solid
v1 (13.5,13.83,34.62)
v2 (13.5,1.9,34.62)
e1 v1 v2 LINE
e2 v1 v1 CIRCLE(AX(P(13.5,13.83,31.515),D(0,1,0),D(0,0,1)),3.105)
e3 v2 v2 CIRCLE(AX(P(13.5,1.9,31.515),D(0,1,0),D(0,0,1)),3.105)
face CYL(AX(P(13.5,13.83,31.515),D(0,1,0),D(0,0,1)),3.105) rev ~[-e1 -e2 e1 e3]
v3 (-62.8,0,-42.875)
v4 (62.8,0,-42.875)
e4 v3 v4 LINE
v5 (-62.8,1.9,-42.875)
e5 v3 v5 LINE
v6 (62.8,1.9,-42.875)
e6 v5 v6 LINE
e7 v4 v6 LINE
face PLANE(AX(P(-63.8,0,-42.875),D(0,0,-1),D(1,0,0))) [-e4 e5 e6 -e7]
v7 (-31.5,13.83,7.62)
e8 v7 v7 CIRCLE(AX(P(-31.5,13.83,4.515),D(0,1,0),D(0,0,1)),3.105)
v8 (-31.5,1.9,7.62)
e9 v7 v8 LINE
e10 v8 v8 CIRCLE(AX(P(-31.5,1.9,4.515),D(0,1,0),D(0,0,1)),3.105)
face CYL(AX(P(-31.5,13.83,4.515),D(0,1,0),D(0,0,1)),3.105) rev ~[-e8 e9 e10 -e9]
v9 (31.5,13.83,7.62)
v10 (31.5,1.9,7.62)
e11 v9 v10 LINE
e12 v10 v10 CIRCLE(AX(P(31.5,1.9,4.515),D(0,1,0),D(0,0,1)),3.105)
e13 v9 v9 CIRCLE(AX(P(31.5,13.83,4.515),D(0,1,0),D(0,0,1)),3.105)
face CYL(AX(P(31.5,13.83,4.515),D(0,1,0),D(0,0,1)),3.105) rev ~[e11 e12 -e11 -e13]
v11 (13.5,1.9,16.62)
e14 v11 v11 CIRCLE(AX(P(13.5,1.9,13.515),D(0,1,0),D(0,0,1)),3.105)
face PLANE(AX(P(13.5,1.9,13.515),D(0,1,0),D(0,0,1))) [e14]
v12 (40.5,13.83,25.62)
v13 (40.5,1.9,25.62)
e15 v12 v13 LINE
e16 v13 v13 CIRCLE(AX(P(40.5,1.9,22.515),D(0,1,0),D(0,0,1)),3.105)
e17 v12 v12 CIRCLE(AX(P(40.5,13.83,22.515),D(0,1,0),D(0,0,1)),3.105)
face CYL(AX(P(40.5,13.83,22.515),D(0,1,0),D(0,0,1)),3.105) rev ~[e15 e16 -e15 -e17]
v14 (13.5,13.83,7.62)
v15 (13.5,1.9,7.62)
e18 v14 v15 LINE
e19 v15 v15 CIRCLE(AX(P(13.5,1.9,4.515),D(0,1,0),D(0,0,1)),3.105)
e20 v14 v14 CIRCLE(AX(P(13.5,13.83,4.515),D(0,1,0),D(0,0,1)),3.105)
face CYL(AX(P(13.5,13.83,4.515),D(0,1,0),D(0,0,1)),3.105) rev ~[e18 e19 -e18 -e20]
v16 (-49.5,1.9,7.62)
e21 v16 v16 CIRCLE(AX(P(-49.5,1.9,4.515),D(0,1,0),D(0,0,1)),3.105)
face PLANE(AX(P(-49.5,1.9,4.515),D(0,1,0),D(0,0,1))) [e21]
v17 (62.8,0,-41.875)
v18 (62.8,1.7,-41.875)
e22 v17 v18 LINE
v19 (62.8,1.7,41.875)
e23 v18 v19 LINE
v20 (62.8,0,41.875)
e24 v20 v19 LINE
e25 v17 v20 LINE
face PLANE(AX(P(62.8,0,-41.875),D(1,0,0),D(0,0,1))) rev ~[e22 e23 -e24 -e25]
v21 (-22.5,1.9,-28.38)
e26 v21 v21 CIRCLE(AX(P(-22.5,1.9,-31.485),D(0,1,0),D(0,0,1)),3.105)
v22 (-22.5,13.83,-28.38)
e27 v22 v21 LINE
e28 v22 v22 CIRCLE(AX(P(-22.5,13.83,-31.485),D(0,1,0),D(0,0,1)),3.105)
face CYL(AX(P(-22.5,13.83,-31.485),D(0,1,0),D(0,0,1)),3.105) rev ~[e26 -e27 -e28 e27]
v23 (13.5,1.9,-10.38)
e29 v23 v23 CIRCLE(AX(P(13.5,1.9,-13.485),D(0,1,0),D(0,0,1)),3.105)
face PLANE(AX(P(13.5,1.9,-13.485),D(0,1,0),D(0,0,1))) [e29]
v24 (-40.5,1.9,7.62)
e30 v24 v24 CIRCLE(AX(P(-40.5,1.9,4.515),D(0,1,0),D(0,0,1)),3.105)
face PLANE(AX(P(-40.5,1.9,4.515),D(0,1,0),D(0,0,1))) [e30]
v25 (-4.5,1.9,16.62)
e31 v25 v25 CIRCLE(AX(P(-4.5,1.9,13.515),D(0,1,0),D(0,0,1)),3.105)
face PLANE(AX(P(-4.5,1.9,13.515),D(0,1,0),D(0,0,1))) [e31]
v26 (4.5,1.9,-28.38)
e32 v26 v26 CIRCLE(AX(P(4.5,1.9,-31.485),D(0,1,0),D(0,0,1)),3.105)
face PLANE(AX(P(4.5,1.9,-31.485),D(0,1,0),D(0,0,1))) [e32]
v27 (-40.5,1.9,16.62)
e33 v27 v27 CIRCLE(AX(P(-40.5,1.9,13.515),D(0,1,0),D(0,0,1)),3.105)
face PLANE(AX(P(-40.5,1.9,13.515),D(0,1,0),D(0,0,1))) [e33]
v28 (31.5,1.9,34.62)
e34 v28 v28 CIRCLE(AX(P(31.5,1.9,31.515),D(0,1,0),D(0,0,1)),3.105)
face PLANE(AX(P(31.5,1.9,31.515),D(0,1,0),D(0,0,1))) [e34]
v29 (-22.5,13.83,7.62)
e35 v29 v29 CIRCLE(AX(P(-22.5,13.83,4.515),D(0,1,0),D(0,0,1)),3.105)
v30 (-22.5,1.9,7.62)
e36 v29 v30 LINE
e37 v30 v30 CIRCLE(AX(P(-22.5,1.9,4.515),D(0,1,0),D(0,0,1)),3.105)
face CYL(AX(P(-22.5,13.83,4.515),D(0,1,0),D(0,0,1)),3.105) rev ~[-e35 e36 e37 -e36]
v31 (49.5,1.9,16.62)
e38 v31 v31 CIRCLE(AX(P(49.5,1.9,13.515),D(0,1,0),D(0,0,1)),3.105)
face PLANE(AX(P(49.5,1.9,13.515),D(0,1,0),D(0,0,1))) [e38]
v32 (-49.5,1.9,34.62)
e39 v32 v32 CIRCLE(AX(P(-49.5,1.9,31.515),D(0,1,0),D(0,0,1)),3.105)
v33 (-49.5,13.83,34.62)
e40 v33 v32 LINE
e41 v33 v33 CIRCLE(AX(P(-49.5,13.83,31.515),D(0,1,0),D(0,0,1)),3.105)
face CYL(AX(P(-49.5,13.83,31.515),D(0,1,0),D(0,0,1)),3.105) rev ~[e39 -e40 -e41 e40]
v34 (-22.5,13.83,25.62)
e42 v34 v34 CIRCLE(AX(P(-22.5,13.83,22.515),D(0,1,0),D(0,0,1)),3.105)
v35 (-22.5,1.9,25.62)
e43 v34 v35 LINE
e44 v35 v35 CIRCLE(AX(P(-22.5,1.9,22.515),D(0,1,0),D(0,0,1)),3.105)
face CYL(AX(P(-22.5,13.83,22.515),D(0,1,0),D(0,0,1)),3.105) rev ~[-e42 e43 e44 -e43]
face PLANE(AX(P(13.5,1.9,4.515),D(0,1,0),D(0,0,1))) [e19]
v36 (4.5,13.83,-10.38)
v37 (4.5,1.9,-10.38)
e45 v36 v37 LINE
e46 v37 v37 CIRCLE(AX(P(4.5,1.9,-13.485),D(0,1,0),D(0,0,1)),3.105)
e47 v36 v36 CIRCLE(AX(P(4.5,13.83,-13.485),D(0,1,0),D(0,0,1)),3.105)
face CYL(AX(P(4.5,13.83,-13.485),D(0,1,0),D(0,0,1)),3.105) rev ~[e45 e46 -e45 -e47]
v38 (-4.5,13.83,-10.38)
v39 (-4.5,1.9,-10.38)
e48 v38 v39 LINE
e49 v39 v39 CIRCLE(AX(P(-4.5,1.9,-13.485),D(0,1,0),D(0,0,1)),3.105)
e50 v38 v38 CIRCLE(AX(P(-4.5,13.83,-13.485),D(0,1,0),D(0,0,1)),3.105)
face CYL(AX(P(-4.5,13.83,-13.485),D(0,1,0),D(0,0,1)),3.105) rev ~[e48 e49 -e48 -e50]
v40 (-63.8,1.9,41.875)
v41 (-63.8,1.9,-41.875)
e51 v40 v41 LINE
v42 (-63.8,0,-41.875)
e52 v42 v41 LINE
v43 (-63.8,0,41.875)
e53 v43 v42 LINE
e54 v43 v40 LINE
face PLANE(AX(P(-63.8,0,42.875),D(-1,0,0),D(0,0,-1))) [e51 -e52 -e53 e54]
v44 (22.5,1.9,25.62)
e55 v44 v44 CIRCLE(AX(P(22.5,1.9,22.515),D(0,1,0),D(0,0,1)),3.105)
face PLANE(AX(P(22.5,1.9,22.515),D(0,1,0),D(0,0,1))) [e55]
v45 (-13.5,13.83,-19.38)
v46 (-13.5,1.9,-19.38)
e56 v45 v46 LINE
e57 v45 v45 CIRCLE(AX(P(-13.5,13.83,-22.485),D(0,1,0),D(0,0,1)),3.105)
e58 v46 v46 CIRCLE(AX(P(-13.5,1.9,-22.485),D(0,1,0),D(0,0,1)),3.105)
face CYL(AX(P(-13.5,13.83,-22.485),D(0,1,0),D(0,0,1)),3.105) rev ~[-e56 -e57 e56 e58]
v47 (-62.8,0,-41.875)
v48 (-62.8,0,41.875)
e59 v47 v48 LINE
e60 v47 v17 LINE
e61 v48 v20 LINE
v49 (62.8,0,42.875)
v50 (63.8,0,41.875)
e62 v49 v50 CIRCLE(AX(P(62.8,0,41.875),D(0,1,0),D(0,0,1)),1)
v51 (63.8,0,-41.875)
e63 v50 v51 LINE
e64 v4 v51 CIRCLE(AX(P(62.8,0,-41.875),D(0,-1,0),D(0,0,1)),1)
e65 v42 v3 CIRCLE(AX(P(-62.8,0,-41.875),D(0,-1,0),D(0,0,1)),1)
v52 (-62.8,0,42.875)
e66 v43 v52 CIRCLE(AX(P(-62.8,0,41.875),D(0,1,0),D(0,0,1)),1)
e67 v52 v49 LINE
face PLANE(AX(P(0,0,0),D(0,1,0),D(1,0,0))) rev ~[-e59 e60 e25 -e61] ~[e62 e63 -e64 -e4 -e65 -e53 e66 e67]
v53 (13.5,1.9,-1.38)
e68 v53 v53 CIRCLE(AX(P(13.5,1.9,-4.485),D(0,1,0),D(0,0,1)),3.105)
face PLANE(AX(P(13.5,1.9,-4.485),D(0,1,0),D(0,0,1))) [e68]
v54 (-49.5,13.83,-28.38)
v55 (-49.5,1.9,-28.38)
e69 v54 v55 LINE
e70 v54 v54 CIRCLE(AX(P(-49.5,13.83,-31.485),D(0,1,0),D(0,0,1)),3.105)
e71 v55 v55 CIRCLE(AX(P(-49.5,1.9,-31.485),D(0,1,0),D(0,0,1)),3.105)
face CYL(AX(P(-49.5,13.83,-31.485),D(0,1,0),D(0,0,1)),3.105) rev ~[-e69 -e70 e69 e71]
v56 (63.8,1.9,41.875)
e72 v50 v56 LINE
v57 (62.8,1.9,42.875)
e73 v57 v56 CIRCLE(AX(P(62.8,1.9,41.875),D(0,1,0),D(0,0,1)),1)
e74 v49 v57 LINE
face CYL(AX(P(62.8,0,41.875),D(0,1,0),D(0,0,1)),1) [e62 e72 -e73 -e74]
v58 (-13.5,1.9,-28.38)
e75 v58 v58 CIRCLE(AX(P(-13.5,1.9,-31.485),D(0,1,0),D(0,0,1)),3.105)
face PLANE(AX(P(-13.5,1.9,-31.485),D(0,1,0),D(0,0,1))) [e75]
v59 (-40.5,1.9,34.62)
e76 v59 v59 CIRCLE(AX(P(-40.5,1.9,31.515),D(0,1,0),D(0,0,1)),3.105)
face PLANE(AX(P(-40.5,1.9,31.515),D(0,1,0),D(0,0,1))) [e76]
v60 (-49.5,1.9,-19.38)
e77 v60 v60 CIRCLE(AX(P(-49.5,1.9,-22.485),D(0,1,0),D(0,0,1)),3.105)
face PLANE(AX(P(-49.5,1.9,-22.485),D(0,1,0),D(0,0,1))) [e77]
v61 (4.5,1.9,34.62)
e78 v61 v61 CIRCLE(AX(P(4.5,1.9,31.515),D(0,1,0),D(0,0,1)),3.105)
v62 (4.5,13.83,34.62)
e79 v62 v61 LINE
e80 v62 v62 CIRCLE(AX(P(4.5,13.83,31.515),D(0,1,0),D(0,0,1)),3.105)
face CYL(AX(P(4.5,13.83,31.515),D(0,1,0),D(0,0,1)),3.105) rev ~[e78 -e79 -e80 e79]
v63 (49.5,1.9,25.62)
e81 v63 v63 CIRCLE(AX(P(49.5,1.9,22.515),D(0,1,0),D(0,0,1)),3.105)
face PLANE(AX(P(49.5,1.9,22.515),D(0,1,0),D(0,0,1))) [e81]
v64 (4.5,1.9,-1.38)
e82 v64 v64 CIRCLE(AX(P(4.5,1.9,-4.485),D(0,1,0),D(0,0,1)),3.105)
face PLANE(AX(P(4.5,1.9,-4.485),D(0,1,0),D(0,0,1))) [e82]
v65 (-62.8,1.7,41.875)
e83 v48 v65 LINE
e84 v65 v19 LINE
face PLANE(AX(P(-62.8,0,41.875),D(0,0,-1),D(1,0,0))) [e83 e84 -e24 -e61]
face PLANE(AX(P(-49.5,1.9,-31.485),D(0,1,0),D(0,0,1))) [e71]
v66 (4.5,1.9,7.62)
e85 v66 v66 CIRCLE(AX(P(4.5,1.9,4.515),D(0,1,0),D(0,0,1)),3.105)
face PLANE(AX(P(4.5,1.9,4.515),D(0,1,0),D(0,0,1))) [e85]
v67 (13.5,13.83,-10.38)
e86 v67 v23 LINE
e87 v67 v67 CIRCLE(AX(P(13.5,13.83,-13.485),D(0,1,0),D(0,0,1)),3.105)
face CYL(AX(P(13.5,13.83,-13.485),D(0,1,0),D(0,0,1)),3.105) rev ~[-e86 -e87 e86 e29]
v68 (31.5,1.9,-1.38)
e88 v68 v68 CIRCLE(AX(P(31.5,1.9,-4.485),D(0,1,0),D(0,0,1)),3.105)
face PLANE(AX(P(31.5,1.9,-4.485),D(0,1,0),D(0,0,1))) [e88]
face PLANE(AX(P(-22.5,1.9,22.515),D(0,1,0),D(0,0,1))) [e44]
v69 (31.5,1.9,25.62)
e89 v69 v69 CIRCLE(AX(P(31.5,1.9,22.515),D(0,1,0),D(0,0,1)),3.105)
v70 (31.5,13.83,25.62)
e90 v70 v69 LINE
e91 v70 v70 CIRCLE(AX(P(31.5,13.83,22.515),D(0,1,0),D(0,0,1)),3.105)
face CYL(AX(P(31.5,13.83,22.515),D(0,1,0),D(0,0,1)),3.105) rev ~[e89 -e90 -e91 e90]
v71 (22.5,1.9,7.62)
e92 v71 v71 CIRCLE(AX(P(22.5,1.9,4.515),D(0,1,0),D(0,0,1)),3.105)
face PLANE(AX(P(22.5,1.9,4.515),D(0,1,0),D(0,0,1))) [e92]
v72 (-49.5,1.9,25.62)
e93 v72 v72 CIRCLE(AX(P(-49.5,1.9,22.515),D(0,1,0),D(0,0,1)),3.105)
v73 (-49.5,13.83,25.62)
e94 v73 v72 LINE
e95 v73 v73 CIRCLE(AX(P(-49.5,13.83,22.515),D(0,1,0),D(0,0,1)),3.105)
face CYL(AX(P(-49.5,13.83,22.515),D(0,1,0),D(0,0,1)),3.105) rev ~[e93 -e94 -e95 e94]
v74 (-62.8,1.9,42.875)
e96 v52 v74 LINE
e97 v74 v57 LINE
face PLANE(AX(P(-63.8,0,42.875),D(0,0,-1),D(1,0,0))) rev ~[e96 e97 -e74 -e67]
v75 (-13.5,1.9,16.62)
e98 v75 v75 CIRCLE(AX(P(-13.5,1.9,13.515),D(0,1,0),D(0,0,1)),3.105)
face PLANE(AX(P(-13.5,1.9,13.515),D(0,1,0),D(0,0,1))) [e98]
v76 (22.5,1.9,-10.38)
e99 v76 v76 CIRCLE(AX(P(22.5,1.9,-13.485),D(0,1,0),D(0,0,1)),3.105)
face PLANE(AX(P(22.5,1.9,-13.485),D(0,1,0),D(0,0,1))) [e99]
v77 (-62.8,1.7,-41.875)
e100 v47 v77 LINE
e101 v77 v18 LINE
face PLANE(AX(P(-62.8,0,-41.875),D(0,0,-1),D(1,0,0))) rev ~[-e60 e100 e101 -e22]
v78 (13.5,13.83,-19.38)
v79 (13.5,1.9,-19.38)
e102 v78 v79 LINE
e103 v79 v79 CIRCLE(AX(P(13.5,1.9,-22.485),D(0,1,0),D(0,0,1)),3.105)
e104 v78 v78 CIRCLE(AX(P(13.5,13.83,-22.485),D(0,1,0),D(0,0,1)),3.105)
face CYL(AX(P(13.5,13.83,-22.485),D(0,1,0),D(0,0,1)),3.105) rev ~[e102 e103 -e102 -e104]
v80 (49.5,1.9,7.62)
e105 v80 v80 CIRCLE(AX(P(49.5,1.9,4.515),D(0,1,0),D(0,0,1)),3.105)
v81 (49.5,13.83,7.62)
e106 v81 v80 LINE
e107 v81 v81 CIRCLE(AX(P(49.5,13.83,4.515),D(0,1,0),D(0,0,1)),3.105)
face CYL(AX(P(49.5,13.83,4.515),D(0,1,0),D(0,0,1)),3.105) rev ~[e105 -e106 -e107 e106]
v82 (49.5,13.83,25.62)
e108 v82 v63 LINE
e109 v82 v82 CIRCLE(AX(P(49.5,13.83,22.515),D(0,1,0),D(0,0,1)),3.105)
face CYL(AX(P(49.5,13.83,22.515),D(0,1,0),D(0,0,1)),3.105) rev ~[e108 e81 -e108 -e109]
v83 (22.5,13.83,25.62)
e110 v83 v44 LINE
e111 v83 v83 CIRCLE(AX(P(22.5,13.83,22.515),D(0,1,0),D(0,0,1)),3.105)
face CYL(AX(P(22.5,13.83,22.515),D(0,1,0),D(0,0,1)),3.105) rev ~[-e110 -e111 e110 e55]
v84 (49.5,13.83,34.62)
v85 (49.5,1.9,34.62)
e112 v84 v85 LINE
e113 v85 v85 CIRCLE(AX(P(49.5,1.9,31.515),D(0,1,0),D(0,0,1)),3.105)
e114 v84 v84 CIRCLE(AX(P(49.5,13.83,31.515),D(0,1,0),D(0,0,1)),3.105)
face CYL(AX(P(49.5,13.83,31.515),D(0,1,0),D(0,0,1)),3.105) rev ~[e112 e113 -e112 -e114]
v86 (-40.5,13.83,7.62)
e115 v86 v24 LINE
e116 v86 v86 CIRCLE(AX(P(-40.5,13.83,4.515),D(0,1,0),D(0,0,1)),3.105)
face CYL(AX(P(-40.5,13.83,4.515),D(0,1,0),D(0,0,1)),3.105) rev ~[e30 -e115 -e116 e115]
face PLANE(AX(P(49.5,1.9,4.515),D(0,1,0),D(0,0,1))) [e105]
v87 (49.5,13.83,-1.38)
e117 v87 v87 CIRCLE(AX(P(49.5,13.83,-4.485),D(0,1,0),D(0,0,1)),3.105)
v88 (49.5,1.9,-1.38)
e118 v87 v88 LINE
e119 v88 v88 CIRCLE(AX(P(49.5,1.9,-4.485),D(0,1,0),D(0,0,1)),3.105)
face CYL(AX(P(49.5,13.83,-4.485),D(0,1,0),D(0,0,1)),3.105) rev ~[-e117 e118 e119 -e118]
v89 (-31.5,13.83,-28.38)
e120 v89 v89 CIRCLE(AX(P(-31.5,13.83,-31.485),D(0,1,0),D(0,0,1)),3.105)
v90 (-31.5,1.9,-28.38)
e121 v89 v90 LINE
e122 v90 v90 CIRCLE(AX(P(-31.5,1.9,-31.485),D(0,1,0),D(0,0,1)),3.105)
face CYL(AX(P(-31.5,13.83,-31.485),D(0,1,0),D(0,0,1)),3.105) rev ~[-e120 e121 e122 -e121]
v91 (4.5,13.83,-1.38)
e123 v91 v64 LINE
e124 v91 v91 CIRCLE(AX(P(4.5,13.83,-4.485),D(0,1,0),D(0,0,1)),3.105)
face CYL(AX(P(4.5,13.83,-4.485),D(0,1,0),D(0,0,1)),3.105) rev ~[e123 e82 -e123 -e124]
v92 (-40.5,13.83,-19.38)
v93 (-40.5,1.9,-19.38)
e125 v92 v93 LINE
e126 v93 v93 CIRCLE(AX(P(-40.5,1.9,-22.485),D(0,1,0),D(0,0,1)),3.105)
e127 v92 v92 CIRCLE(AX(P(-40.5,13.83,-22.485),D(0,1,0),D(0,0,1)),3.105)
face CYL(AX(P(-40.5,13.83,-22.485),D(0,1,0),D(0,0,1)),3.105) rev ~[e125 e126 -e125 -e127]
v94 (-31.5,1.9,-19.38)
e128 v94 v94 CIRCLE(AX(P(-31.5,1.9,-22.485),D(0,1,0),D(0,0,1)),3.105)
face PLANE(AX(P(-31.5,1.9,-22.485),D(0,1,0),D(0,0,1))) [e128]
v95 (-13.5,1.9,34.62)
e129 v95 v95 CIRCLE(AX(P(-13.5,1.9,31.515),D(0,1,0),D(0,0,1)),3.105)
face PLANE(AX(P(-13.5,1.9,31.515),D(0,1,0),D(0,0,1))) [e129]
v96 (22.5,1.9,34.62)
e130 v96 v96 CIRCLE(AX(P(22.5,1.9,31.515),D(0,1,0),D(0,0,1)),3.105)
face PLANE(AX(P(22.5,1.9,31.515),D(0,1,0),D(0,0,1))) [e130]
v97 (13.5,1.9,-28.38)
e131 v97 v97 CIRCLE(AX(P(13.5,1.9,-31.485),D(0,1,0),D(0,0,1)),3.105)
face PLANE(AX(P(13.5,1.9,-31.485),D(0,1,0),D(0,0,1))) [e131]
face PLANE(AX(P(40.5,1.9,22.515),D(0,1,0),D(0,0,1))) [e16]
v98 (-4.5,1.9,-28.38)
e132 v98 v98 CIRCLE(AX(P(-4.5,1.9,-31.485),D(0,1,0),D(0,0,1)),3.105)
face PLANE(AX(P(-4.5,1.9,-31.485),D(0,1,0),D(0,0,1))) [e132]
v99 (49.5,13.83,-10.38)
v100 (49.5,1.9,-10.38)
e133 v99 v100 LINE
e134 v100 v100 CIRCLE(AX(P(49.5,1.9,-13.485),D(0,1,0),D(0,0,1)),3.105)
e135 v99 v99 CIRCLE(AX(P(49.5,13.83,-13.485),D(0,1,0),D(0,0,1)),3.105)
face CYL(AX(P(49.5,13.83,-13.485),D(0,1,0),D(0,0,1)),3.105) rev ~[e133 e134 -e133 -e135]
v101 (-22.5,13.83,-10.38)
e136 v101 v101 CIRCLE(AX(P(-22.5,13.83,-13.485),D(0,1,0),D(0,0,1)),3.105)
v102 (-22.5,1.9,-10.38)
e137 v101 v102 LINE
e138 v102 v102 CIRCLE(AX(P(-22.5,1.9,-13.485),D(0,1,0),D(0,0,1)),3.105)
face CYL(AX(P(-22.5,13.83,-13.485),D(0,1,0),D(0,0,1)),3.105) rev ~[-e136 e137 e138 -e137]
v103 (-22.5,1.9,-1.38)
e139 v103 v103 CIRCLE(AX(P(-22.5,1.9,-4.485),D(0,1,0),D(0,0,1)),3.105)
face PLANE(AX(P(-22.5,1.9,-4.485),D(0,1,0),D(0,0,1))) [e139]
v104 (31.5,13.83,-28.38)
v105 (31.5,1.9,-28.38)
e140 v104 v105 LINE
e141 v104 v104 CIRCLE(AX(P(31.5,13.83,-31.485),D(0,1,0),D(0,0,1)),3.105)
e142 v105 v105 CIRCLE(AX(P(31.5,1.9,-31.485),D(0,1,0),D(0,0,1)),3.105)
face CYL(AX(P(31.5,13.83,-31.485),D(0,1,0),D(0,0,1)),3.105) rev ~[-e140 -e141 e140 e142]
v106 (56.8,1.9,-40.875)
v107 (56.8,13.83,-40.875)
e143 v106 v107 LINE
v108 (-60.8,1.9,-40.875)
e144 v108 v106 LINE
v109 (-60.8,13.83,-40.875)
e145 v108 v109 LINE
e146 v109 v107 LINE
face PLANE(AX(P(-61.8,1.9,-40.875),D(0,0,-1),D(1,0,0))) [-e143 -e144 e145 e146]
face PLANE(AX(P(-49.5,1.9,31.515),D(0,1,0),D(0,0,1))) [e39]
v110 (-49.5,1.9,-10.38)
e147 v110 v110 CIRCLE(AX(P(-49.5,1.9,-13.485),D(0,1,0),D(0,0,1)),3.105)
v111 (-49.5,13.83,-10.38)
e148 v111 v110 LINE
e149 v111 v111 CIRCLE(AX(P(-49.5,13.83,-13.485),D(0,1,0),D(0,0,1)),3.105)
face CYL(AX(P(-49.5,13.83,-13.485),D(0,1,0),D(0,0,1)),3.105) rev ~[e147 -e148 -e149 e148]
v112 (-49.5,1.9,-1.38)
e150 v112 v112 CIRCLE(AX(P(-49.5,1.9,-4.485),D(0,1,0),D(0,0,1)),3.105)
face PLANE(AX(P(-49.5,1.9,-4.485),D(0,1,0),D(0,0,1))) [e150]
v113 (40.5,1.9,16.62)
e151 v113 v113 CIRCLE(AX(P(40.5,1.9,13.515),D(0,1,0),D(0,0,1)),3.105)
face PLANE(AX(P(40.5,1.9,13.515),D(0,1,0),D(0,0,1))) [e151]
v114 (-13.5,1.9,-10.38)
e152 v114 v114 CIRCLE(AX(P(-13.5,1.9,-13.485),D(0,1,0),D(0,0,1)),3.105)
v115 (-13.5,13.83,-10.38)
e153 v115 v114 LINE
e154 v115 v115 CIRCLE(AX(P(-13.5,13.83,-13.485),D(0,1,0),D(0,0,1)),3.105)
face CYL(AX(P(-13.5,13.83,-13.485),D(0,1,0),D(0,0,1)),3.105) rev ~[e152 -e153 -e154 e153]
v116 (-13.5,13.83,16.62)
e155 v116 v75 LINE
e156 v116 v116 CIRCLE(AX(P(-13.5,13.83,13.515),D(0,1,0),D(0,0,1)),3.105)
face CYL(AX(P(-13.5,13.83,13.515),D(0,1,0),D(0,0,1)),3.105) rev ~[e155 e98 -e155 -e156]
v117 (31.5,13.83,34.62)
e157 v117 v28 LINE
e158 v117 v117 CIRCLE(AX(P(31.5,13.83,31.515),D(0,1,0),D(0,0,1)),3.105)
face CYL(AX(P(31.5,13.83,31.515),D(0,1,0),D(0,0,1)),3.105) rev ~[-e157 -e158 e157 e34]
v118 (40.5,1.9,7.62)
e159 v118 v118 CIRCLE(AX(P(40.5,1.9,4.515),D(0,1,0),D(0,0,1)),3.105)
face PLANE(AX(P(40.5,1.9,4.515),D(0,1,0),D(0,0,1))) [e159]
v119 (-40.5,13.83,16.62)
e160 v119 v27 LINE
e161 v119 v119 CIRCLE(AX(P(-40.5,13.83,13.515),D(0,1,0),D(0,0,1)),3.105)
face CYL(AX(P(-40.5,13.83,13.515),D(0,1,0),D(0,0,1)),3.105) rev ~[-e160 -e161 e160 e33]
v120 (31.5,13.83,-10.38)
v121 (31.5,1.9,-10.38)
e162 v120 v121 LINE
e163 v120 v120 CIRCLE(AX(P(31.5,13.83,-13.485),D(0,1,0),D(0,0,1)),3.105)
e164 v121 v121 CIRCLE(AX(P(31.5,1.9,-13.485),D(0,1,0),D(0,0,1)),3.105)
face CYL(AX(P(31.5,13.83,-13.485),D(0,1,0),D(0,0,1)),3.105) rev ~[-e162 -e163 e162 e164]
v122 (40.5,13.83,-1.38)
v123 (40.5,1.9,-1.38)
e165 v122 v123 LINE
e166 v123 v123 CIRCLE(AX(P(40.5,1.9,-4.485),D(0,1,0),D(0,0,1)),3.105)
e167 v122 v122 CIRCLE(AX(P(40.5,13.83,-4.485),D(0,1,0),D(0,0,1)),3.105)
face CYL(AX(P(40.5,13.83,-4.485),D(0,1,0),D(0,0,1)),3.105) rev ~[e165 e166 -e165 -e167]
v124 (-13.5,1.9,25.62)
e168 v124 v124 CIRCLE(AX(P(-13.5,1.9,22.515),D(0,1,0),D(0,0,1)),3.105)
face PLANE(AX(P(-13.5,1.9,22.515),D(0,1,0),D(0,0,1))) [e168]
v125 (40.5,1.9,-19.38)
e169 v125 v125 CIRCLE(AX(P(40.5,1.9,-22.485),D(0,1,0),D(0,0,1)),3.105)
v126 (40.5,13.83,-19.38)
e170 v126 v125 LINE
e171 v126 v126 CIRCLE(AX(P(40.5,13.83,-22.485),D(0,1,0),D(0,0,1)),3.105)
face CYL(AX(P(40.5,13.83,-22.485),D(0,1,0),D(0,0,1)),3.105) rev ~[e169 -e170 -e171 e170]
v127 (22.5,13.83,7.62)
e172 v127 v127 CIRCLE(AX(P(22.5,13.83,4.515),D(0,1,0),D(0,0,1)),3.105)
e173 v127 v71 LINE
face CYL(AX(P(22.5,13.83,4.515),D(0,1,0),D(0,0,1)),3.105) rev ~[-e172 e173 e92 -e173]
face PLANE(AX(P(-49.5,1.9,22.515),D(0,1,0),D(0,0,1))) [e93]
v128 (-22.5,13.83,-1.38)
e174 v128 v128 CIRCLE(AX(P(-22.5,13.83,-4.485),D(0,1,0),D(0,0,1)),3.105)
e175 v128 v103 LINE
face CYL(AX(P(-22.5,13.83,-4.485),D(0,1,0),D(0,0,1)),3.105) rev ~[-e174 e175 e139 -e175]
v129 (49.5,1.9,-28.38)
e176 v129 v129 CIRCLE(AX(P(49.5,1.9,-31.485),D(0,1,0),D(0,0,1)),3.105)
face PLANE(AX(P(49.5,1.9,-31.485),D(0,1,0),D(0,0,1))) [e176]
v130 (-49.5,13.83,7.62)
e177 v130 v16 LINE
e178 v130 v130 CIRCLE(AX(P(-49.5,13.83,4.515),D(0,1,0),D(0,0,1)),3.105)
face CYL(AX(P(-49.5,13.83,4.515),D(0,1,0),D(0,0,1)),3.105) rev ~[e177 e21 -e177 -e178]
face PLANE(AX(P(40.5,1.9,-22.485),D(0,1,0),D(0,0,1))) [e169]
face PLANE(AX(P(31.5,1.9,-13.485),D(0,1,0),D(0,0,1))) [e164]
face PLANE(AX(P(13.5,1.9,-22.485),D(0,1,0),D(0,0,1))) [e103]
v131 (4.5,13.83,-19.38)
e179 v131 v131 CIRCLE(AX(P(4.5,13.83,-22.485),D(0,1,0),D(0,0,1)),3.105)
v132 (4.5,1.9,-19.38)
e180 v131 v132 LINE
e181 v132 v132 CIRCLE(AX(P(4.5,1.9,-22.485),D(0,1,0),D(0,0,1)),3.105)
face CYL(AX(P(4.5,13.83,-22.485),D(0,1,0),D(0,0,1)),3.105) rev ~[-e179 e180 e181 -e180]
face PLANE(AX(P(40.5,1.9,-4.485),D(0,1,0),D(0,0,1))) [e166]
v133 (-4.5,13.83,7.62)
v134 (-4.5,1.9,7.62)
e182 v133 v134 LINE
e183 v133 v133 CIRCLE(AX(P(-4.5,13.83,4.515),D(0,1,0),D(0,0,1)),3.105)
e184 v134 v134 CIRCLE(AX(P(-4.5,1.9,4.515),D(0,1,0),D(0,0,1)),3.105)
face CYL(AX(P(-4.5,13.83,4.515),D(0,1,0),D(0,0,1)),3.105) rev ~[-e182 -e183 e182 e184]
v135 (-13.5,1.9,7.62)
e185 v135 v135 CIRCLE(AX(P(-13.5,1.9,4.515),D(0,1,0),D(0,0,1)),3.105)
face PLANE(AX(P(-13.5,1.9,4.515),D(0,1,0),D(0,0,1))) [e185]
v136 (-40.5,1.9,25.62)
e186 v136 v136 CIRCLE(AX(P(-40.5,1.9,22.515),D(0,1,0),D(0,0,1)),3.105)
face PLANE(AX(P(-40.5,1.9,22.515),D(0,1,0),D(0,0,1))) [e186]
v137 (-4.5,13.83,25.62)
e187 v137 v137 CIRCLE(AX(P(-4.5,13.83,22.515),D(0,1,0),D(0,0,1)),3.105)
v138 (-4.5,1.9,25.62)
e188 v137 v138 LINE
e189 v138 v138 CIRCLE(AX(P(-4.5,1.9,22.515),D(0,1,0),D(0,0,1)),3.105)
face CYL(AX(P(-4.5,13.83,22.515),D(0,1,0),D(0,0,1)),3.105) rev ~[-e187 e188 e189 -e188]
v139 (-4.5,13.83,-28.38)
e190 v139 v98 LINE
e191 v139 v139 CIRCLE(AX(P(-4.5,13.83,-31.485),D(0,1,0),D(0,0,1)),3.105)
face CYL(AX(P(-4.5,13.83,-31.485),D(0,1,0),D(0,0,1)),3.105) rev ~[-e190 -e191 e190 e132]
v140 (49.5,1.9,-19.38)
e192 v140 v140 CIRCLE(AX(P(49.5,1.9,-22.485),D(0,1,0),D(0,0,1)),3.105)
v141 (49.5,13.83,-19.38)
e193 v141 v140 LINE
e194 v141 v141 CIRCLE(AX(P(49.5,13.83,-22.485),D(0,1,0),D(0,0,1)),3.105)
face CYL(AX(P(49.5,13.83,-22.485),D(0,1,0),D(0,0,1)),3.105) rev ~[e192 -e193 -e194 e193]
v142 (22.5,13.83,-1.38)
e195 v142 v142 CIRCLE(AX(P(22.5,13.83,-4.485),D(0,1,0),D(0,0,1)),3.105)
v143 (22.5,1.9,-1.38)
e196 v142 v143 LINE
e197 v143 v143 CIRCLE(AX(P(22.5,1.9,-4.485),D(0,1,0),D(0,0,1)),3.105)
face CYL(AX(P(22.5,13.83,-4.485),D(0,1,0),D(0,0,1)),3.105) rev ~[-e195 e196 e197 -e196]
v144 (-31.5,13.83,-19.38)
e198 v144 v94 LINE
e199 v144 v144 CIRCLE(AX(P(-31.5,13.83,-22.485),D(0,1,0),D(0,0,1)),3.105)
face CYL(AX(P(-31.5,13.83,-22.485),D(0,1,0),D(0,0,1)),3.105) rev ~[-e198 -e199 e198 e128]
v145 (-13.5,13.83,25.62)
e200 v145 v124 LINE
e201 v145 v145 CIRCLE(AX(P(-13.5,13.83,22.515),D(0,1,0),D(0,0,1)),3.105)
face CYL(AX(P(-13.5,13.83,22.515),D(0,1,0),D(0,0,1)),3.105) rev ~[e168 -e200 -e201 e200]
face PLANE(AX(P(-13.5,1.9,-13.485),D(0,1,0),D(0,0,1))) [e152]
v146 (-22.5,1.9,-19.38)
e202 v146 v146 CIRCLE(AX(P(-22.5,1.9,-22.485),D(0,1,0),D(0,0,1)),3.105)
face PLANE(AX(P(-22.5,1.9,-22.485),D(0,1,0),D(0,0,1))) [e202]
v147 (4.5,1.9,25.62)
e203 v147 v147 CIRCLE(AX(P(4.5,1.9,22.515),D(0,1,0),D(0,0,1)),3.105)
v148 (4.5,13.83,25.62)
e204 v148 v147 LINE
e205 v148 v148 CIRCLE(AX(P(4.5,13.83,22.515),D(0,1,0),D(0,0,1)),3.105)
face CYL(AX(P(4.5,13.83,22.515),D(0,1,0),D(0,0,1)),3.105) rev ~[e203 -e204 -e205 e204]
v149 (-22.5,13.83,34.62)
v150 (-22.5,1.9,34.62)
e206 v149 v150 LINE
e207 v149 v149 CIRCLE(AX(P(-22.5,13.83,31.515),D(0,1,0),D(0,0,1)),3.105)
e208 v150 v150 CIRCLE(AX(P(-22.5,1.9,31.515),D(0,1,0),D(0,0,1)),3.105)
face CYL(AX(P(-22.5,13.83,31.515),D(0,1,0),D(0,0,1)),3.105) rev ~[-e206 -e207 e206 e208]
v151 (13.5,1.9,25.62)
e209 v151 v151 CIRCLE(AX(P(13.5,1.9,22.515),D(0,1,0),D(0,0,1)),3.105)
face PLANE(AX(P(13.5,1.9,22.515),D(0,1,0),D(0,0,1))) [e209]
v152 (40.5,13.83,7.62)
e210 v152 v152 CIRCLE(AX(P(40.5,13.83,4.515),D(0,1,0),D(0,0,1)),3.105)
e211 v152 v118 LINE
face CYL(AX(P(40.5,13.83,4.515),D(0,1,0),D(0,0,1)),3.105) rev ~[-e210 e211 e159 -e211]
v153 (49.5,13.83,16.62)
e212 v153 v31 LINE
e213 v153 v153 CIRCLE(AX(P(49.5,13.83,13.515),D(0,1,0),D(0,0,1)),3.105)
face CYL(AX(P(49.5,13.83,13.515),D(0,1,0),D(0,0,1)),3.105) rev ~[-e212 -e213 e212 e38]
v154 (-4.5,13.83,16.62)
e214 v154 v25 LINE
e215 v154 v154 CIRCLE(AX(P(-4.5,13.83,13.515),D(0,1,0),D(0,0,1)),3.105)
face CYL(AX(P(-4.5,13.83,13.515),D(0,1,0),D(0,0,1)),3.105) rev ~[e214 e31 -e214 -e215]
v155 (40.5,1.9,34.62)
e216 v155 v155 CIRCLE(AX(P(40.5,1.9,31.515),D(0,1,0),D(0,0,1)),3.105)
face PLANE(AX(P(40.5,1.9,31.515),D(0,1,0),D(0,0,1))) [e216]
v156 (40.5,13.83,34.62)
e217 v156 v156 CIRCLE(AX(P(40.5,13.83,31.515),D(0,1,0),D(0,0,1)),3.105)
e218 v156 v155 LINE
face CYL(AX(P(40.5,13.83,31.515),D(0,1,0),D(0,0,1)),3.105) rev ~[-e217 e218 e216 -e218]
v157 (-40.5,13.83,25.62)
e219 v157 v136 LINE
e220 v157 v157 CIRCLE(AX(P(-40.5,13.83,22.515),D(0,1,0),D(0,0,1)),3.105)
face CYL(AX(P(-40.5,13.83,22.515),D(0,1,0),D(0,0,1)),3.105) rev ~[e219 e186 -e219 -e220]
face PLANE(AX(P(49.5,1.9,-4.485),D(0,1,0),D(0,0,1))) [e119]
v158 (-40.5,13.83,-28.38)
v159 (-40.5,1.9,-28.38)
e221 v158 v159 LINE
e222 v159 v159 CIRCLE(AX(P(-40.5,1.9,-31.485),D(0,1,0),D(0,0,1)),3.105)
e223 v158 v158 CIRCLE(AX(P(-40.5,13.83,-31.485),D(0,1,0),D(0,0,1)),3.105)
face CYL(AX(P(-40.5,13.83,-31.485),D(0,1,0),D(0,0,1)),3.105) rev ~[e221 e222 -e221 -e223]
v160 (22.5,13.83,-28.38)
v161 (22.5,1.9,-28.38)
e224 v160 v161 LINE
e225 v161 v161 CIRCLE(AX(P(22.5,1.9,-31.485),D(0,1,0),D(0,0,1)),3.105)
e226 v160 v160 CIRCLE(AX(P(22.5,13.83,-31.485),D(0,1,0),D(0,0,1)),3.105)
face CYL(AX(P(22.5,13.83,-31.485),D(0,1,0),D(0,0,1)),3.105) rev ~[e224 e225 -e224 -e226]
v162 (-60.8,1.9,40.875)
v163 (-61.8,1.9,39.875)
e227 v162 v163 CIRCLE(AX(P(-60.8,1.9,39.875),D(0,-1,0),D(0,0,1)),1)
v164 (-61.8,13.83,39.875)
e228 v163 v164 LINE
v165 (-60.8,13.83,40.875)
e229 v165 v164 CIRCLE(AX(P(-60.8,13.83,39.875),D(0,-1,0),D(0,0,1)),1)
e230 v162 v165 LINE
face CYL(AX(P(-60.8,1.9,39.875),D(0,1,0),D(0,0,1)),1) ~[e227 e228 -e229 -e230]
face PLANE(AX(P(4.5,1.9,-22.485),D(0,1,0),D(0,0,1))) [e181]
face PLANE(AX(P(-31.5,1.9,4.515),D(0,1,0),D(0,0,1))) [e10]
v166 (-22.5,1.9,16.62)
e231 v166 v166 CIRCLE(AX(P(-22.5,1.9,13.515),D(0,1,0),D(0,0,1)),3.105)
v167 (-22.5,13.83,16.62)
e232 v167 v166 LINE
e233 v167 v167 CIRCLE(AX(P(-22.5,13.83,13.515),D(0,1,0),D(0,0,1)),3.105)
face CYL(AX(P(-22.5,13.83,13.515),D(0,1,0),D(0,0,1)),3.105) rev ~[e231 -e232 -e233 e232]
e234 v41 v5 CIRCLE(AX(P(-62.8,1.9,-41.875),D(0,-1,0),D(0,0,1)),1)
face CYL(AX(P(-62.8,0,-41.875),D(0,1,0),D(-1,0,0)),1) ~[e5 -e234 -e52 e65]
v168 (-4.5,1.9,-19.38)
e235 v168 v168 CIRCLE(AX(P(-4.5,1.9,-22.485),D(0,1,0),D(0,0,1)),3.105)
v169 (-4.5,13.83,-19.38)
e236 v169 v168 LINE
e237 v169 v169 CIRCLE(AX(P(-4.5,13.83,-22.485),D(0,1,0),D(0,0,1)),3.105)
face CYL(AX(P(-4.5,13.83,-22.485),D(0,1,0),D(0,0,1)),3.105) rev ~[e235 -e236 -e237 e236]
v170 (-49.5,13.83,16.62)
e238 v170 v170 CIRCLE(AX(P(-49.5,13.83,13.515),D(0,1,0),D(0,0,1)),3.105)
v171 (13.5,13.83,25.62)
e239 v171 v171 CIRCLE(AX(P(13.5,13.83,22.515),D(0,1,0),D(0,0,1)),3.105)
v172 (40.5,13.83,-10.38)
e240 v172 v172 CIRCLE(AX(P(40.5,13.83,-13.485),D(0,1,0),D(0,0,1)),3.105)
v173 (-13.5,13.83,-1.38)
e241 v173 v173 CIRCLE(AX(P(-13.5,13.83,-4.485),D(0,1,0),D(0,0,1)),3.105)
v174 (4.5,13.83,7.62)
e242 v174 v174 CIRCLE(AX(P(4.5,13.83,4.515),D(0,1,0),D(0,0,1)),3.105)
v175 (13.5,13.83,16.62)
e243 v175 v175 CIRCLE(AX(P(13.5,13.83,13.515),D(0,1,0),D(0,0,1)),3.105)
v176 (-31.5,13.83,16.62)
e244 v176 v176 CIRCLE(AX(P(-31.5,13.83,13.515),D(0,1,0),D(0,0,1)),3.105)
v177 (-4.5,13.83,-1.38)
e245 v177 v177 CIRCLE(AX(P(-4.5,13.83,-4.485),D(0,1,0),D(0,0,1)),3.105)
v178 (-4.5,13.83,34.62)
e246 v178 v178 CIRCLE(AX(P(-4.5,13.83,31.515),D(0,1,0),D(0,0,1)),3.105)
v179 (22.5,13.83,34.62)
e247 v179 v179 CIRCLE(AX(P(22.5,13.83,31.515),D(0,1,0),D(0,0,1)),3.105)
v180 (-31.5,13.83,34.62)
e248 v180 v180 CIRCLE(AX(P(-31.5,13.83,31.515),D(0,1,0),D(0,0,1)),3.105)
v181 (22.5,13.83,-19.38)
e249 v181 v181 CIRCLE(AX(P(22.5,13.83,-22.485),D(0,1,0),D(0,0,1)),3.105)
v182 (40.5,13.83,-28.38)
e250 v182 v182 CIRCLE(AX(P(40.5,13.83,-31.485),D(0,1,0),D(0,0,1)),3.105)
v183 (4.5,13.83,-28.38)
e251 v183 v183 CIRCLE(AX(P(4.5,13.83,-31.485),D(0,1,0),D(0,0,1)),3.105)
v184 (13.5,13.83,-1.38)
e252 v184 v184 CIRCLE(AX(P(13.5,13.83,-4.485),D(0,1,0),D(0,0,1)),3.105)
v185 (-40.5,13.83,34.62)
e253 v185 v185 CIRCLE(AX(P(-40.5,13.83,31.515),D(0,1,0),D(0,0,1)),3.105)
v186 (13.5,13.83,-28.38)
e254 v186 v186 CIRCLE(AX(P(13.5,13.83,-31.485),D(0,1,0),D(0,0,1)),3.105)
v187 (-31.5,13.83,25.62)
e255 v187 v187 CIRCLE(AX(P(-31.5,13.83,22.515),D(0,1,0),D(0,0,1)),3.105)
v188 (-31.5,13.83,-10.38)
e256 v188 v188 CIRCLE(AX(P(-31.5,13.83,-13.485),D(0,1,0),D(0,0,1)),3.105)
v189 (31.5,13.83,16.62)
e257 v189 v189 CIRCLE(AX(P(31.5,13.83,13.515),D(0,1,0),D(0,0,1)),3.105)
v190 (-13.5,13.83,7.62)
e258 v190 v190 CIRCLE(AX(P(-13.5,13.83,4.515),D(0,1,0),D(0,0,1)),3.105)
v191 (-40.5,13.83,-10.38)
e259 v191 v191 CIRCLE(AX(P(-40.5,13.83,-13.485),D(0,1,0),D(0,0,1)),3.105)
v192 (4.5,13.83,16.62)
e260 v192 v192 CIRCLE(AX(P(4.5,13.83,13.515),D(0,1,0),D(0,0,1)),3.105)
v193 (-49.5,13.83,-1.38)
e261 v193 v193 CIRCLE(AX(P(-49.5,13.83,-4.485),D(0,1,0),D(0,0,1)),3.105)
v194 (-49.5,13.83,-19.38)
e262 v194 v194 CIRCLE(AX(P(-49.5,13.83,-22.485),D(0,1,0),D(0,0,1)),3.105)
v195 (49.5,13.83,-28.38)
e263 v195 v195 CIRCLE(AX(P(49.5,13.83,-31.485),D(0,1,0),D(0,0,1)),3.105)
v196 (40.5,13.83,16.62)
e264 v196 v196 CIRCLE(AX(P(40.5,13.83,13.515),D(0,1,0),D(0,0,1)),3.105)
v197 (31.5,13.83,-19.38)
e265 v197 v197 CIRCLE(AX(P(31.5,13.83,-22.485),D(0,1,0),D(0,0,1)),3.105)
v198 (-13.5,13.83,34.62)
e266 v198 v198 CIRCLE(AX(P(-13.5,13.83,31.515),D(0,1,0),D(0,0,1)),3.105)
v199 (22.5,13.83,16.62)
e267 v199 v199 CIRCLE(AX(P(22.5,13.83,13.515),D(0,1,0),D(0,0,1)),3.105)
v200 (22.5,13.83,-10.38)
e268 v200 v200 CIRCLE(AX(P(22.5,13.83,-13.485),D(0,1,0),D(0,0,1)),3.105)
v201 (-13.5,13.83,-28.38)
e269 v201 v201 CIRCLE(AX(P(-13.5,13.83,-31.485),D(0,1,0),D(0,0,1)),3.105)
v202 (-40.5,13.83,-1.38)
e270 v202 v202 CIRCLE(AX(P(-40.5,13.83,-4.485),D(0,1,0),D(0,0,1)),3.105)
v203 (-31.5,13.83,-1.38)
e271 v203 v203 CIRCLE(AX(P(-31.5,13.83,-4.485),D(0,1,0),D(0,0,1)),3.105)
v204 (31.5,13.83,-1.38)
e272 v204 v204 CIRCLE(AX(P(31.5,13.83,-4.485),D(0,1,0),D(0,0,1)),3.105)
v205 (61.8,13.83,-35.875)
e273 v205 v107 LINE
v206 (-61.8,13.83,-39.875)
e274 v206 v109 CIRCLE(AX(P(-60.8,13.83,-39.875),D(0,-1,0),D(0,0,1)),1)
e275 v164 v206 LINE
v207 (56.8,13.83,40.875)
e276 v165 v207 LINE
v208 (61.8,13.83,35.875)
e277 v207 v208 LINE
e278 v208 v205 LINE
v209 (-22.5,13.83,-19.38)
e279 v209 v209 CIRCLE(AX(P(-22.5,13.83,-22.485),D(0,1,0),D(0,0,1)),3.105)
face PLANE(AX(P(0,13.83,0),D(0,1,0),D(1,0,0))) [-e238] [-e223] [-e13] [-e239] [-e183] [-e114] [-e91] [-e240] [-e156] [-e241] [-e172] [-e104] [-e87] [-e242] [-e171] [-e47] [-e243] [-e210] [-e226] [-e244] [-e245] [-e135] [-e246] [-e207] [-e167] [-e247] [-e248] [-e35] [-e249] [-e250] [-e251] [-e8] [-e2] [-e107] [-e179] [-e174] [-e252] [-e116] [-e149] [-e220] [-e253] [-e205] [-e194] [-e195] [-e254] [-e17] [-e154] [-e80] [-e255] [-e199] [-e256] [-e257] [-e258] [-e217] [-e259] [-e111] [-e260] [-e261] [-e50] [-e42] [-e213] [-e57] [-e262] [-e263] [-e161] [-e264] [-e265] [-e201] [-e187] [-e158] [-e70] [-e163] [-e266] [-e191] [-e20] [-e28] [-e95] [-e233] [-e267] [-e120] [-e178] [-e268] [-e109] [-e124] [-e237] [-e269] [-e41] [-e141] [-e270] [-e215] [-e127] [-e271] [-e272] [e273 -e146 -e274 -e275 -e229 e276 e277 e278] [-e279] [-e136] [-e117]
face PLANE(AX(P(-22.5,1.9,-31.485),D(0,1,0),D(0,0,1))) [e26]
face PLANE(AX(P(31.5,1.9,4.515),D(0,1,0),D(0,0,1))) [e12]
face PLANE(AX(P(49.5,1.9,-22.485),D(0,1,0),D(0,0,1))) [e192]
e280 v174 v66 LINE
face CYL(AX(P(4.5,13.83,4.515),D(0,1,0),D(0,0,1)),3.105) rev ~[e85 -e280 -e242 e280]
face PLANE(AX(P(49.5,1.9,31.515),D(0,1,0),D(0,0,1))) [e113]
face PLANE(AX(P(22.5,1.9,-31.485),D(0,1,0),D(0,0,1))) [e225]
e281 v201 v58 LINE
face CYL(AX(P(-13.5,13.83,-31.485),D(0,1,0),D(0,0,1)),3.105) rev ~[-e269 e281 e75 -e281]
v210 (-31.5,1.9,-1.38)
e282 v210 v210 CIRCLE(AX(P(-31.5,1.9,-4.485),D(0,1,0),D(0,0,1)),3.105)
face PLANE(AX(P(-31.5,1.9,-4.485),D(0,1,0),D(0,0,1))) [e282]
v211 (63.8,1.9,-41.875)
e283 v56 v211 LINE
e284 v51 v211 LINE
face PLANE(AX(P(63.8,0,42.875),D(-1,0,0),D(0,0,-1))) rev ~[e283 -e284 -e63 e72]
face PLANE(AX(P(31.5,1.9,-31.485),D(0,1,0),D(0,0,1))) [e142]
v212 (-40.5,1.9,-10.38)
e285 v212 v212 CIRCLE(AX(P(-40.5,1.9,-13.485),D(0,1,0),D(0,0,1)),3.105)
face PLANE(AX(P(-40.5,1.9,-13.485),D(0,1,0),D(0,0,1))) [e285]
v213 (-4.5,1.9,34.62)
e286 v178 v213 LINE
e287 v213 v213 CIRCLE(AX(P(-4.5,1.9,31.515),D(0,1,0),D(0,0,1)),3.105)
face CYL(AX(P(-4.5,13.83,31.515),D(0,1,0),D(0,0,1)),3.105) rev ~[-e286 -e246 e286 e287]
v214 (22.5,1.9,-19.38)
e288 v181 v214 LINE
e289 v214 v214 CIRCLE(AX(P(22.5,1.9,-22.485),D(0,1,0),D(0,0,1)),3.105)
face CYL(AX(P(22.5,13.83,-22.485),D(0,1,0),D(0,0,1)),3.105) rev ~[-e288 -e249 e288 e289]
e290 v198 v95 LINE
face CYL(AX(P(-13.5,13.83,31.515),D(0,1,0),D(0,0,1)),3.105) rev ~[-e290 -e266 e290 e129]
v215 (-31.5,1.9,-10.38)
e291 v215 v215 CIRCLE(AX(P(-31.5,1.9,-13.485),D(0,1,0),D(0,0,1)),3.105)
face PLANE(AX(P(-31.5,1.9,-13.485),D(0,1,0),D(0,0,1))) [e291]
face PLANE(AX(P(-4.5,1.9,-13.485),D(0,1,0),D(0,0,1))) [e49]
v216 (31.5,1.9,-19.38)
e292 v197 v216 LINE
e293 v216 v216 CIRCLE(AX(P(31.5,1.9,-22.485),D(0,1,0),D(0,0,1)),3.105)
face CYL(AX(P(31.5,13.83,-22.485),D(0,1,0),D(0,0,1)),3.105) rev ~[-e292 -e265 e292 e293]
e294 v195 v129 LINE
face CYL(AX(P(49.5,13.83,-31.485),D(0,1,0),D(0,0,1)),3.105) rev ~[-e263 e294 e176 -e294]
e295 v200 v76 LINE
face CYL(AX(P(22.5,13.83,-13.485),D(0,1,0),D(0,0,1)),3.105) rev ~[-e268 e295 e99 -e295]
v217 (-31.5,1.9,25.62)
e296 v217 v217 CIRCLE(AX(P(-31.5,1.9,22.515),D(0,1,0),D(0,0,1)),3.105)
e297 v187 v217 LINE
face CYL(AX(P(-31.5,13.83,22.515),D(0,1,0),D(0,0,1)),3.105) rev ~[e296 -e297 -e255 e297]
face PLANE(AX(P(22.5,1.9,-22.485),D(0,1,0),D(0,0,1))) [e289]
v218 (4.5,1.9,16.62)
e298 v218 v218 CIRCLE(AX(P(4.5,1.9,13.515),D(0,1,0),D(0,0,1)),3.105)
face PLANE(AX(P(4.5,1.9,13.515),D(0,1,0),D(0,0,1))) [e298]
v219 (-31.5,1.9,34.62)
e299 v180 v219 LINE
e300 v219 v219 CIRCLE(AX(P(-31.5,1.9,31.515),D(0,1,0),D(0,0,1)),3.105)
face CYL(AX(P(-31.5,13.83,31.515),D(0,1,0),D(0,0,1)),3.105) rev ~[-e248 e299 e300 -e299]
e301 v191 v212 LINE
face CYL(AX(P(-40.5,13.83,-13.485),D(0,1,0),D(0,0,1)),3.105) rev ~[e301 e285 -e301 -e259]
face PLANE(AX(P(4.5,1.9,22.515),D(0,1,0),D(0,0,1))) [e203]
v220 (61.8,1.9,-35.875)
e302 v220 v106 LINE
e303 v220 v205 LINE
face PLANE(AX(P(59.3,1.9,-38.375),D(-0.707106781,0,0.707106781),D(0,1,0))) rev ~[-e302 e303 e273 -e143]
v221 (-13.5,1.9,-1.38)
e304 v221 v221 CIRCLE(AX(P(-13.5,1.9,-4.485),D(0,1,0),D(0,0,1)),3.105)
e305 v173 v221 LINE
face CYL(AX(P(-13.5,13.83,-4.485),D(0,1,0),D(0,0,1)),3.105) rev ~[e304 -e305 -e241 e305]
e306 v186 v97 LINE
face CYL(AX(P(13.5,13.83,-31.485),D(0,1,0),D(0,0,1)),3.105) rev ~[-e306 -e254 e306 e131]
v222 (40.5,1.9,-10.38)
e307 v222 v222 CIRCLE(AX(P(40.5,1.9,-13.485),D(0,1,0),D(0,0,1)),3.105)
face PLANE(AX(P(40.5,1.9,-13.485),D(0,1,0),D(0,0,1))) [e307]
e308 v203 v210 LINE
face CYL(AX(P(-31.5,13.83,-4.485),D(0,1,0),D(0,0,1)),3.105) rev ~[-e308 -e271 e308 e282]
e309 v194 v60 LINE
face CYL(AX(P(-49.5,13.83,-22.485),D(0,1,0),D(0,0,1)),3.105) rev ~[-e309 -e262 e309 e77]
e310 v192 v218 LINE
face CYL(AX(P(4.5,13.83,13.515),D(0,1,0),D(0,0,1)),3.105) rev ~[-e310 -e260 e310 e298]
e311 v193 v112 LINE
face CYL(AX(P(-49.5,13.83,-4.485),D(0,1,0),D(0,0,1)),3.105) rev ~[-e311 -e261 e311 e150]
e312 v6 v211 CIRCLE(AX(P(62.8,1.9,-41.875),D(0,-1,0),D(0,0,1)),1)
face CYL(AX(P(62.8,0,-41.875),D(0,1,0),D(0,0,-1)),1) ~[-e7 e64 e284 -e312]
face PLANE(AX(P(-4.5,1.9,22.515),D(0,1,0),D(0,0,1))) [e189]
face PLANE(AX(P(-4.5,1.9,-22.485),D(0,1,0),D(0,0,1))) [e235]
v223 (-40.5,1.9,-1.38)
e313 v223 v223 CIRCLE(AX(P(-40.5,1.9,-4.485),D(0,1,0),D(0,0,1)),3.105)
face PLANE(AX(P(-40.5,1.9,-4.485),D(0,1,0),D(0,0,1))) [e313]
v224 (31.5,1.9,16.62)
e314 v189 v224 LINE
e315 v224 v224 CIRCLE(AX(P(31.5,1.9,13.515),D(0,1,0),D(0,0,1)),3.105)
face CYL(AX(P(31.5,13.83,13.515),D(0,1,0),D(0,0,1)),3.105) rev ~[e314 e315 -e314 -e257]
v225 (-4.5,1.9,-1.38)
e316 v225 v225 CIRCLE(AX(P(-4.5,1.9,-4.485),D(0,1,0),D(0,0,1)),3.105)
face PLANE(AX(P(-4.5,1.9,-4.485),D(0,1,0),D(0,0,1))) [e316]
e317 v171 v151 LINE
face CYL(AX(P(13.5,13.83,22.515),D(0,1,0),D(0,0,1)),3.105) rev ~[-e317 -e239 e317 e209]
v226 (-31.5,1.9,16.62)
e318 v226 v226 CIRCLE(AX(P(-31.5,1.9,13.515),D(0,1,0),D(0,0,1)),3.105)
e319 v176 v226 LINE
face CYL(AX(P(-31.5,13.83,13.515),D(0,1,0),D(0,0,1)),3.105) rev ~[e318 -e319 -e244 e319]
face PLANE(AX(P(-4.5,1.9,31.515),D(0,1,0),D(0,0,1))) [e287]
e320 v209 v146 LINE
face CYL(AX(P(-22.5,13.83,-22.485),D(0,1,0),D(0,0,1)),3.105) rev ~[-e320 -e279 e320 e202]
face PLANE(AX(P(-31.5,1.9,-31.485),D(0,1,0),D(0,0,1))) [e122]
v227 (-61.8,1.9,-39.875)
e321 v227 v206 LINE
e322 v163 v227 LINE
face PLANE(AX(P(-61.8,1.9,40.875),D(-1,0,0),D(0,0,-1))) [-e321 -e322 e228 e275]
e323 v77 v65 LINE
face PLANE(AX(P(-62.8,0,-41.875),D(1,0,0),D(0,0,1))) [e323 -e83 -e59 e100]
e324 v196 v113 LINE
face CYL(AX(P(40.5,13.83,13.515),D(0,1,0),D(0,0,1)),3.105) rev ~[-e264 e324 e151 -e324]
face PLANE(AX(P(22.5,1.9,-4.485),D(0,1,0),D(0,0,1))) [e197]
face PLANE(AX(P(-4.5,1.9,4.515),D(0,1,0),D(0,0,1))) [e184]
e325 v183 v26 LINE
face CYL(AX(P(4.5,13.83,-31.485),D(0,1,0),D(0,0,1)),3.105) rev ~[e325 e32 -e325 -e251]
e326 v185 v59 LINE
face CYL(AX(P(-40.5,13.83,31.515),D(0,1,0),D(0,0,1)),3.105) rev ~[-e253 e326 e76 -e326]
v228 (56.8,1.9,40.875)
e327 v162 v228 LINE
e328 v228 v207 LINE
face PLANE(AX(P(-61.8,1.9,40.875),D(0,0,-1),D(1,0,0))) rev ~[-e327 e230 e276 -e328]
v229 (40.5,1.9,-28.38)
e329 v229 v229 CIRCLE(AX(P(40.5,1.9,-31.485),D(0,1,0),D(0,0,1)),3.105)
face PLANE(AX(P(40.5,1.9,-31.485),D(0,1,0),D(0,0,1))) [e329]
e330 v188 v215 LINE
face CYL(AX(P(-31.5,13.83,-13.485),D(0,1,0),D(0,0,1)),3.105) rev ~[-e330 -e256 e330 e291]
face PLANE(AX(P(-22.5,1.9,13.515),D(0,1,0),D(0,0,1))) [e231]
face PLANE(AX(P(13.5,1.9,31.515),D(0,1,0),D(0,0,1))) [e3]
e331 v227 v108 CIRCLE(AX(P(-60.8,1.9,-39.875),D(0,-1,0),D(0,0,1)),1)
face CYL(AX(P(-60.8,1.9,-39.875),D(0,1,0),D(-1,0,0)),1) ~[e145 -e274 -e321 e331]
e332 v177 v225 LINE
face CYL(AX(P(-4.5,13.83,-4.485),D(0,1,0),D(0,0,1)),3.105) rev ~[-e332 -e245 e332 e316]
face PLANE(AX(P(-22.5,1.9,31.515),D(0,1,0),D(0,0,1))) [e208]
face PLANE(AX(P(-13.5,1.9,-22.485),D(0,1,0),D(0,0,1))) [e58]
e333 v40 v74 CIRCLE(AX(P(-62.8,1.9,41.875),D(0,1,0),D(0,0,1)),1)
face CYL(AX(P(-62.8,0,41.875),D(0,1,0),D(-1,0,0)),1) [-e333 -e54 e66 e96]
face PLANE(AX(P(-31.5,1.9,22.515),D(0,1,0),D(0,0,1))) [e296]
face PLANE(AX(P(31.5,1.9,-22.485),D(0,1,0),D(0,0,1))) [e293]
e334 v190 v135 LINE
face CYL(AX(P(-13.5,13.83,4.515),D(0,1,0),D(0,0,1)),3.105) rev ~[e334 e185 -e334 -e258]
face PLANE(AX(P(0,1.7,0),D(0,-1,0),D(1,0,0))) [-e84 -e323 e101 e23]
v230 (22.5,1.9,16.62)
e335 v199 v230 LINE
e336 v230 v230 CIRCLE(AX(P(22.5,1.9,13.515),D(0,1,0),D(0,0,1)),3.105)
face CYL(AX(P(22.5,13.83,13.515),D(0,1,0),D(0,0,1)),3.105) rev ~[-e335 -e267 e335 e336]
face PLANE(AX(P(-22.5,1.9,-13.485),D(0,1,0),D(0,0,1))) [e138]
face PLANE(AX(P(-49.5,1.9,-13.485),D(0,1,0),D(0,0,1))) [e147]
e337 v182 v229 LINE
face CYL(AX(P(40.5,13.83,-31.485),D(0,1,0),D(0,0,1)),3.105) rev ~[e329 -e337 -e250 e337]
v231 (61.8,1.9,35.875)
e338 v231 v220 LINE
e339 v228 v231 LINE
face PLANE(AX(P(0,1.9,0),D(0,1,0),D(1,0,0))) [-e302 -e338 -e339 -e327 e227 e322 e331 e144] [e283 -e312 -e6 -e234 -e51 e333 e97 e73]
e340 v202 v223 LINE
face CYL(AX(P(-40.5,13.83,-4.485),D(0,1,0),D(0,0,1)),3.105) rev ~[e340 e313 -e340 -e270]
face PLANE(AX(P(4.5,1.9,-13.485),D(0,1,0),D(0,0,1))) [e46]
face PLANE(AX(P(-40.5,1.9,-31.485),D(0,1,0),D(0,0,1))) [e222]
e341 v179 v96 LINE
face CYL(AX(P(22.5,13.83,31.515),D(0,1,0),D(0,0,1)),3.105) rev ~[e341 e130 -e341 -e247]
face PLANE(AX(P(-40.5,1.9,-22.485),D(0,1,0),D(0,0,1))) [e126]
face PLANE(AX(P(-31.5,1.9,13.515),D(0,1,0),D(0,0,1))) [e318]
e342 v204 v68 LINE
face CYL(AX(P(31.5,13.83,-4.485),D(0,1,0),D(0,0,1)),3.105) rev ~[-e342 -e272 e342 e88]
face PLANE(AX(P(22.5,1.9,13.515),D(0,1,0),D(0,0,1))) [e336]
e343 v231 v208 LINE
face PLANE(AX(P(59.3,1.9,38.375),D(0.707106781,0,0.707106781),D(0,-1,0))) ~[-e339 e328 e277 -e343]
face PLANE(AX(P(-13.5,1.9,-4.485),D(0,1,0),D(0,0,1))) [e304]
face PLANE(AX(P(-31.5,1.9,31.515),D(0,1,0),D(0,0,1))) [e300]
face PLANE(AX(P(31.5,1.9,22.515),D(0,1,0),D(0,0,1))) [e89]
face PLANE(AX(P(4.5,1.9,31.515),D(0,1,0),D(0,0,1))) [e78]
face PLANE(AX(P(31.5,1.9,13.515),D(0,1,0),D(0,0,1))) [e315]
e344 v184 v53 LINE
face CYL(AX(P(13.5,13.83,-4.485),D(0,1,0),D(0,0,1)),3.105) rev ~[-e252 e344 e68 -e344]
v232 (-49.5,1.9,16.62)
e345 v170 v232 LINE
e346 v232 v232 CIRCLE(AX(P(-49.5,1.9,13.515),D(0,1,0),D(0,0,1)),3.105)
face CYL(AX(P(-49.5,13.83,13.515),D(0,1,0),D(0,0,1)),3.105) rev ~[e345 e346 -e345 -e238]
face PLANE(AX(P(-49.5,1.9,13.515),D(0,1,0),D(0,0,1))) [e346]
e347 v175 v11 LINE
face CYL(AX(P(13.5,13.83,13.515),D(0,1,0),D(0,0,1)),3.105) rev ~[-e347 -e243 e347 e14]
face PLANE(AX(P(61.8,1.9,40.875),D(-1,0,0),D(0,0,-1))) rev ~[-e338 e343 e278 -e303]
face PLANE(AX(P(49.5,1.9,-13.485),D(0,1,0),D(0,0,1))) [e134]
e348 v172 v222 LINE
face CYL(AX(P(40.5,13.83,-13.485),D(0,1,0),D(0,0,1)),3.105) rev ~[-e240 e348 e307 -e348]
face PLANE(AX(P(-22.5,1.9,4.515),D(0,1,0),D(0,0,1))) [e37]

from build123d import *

# Parameters (mm, degrees)
SKETCH1_W            = 127.6
SKETCH1_H            = 85.75
BOSS_EXTRUDE1_DEPTH  = 1.9
SKETCH2_W            = 123.6
SKETCH2_H            = 81.75
BOSS_EXTRUDE2_DEPTH  = 11.93
CHAMFER1_SIZE        = 5
FILLET1_R            = 1
SKETCH3_R            = 3.105
CUT_EXTRUDE1_DEPTH   = 11.93
LPATTERN1_COUNT      = 12
LPATTERN1_PITCH      = 9
LPATTERN1_COUNT_DIR2 = 8
LPATTERN1_PITCH_DIR2 = 9
SKETCH4_W            = 125.6
SKETCH4_H            = 83.75
CUT_EXTRUDE2_DEPTH   = 1.7


with BuildPart() as part:
    # Sketch1 → Boss-Extrude1 (new body)
    with BuildSketch(Plane(origin=(0, 0, 0), x_dir=(1, 0, 0), z_dir=(0, 1, 0))):
        Rectangle(SKETCH1_W, SKETCH1_H)
    extrude(amount=BOSS_EXTRUDE1_DEPTH)

    # Sketch2 → Boss-Extrude2 (add)
    with BuildSketch(Plane(origin=(0, 1.9, 0), x_dir=(1, 0, 0), z_dir=(0, 1, 0))):
        Rectangle(SKETCH2_W, SKETCH2_H)
    extrude(amount=BOSS_EXTRUDE2_DEPTH)

    # Chamfer1
    chamfer1_edges = [part.edges().sort_by_distance(p)[0] for p in [
        (61.8, 7.865, 40.875),
        (61.8, 7.865, -40.875),
    ]]
    chamfer(chamfer1_edges, length=CHAMFER1_SIZE)

    # Fillet1
    fillet1_edges = [part.edges().sort_by_distance(p)[0] for p in [
        (-61.8, 7.865, -40.875),
        (-61.8, 7.865, 40.875),
        (63.8, 0.95, 42.875),
        (-63.8, 0.95, 42.875),
        (-63.8, 0.95, -42.875),
        (63.8, 0.95, -42.875),
    ]]
    fillet(fillet1_edges, radius=FILLET1_R)

    # Sketch3 → Cut-Extrude1 (cut)
    with BuildSketch(Plane(origin=(0, 13.83, 0), x_dir=(1, 0, 0), z_dir=(0, 1, 0))):
        with Locations(Location((-49.5, -31.515, 0), (0, 0, 270))):
            Circle(SKETCH3_R)
    cut_extrude1 = extrude(amount=-CUT_EXTRUDE1_DEPTH, mode=Mode.SUBTRACT)

    # LPattern1: Cut-Extrude1 12 × 8
    with Locations(*[(i * LPATTERN1_PITCH, 0, -j * LPATTERN1_PITCH_DIR2) for i in range(LPATTERN1_COUNT) for j in range(LPATTERN1_COUNT_DIR2) if (i, j) != (0, 0)]):
        add(cut_extrude1, mode=Mode.SUBTRACT)

    # Sketch4 → Cut-Extrude2 (cut)
    with BuildSketch(Plane.XZ):
        Rectangle(SKETCH4_W, SKETCH4_H)
    extrude(amount=-CUT_EXTRUDE2_DEPTH, mode=Mode.SUBTRACT)


solid = part.part
